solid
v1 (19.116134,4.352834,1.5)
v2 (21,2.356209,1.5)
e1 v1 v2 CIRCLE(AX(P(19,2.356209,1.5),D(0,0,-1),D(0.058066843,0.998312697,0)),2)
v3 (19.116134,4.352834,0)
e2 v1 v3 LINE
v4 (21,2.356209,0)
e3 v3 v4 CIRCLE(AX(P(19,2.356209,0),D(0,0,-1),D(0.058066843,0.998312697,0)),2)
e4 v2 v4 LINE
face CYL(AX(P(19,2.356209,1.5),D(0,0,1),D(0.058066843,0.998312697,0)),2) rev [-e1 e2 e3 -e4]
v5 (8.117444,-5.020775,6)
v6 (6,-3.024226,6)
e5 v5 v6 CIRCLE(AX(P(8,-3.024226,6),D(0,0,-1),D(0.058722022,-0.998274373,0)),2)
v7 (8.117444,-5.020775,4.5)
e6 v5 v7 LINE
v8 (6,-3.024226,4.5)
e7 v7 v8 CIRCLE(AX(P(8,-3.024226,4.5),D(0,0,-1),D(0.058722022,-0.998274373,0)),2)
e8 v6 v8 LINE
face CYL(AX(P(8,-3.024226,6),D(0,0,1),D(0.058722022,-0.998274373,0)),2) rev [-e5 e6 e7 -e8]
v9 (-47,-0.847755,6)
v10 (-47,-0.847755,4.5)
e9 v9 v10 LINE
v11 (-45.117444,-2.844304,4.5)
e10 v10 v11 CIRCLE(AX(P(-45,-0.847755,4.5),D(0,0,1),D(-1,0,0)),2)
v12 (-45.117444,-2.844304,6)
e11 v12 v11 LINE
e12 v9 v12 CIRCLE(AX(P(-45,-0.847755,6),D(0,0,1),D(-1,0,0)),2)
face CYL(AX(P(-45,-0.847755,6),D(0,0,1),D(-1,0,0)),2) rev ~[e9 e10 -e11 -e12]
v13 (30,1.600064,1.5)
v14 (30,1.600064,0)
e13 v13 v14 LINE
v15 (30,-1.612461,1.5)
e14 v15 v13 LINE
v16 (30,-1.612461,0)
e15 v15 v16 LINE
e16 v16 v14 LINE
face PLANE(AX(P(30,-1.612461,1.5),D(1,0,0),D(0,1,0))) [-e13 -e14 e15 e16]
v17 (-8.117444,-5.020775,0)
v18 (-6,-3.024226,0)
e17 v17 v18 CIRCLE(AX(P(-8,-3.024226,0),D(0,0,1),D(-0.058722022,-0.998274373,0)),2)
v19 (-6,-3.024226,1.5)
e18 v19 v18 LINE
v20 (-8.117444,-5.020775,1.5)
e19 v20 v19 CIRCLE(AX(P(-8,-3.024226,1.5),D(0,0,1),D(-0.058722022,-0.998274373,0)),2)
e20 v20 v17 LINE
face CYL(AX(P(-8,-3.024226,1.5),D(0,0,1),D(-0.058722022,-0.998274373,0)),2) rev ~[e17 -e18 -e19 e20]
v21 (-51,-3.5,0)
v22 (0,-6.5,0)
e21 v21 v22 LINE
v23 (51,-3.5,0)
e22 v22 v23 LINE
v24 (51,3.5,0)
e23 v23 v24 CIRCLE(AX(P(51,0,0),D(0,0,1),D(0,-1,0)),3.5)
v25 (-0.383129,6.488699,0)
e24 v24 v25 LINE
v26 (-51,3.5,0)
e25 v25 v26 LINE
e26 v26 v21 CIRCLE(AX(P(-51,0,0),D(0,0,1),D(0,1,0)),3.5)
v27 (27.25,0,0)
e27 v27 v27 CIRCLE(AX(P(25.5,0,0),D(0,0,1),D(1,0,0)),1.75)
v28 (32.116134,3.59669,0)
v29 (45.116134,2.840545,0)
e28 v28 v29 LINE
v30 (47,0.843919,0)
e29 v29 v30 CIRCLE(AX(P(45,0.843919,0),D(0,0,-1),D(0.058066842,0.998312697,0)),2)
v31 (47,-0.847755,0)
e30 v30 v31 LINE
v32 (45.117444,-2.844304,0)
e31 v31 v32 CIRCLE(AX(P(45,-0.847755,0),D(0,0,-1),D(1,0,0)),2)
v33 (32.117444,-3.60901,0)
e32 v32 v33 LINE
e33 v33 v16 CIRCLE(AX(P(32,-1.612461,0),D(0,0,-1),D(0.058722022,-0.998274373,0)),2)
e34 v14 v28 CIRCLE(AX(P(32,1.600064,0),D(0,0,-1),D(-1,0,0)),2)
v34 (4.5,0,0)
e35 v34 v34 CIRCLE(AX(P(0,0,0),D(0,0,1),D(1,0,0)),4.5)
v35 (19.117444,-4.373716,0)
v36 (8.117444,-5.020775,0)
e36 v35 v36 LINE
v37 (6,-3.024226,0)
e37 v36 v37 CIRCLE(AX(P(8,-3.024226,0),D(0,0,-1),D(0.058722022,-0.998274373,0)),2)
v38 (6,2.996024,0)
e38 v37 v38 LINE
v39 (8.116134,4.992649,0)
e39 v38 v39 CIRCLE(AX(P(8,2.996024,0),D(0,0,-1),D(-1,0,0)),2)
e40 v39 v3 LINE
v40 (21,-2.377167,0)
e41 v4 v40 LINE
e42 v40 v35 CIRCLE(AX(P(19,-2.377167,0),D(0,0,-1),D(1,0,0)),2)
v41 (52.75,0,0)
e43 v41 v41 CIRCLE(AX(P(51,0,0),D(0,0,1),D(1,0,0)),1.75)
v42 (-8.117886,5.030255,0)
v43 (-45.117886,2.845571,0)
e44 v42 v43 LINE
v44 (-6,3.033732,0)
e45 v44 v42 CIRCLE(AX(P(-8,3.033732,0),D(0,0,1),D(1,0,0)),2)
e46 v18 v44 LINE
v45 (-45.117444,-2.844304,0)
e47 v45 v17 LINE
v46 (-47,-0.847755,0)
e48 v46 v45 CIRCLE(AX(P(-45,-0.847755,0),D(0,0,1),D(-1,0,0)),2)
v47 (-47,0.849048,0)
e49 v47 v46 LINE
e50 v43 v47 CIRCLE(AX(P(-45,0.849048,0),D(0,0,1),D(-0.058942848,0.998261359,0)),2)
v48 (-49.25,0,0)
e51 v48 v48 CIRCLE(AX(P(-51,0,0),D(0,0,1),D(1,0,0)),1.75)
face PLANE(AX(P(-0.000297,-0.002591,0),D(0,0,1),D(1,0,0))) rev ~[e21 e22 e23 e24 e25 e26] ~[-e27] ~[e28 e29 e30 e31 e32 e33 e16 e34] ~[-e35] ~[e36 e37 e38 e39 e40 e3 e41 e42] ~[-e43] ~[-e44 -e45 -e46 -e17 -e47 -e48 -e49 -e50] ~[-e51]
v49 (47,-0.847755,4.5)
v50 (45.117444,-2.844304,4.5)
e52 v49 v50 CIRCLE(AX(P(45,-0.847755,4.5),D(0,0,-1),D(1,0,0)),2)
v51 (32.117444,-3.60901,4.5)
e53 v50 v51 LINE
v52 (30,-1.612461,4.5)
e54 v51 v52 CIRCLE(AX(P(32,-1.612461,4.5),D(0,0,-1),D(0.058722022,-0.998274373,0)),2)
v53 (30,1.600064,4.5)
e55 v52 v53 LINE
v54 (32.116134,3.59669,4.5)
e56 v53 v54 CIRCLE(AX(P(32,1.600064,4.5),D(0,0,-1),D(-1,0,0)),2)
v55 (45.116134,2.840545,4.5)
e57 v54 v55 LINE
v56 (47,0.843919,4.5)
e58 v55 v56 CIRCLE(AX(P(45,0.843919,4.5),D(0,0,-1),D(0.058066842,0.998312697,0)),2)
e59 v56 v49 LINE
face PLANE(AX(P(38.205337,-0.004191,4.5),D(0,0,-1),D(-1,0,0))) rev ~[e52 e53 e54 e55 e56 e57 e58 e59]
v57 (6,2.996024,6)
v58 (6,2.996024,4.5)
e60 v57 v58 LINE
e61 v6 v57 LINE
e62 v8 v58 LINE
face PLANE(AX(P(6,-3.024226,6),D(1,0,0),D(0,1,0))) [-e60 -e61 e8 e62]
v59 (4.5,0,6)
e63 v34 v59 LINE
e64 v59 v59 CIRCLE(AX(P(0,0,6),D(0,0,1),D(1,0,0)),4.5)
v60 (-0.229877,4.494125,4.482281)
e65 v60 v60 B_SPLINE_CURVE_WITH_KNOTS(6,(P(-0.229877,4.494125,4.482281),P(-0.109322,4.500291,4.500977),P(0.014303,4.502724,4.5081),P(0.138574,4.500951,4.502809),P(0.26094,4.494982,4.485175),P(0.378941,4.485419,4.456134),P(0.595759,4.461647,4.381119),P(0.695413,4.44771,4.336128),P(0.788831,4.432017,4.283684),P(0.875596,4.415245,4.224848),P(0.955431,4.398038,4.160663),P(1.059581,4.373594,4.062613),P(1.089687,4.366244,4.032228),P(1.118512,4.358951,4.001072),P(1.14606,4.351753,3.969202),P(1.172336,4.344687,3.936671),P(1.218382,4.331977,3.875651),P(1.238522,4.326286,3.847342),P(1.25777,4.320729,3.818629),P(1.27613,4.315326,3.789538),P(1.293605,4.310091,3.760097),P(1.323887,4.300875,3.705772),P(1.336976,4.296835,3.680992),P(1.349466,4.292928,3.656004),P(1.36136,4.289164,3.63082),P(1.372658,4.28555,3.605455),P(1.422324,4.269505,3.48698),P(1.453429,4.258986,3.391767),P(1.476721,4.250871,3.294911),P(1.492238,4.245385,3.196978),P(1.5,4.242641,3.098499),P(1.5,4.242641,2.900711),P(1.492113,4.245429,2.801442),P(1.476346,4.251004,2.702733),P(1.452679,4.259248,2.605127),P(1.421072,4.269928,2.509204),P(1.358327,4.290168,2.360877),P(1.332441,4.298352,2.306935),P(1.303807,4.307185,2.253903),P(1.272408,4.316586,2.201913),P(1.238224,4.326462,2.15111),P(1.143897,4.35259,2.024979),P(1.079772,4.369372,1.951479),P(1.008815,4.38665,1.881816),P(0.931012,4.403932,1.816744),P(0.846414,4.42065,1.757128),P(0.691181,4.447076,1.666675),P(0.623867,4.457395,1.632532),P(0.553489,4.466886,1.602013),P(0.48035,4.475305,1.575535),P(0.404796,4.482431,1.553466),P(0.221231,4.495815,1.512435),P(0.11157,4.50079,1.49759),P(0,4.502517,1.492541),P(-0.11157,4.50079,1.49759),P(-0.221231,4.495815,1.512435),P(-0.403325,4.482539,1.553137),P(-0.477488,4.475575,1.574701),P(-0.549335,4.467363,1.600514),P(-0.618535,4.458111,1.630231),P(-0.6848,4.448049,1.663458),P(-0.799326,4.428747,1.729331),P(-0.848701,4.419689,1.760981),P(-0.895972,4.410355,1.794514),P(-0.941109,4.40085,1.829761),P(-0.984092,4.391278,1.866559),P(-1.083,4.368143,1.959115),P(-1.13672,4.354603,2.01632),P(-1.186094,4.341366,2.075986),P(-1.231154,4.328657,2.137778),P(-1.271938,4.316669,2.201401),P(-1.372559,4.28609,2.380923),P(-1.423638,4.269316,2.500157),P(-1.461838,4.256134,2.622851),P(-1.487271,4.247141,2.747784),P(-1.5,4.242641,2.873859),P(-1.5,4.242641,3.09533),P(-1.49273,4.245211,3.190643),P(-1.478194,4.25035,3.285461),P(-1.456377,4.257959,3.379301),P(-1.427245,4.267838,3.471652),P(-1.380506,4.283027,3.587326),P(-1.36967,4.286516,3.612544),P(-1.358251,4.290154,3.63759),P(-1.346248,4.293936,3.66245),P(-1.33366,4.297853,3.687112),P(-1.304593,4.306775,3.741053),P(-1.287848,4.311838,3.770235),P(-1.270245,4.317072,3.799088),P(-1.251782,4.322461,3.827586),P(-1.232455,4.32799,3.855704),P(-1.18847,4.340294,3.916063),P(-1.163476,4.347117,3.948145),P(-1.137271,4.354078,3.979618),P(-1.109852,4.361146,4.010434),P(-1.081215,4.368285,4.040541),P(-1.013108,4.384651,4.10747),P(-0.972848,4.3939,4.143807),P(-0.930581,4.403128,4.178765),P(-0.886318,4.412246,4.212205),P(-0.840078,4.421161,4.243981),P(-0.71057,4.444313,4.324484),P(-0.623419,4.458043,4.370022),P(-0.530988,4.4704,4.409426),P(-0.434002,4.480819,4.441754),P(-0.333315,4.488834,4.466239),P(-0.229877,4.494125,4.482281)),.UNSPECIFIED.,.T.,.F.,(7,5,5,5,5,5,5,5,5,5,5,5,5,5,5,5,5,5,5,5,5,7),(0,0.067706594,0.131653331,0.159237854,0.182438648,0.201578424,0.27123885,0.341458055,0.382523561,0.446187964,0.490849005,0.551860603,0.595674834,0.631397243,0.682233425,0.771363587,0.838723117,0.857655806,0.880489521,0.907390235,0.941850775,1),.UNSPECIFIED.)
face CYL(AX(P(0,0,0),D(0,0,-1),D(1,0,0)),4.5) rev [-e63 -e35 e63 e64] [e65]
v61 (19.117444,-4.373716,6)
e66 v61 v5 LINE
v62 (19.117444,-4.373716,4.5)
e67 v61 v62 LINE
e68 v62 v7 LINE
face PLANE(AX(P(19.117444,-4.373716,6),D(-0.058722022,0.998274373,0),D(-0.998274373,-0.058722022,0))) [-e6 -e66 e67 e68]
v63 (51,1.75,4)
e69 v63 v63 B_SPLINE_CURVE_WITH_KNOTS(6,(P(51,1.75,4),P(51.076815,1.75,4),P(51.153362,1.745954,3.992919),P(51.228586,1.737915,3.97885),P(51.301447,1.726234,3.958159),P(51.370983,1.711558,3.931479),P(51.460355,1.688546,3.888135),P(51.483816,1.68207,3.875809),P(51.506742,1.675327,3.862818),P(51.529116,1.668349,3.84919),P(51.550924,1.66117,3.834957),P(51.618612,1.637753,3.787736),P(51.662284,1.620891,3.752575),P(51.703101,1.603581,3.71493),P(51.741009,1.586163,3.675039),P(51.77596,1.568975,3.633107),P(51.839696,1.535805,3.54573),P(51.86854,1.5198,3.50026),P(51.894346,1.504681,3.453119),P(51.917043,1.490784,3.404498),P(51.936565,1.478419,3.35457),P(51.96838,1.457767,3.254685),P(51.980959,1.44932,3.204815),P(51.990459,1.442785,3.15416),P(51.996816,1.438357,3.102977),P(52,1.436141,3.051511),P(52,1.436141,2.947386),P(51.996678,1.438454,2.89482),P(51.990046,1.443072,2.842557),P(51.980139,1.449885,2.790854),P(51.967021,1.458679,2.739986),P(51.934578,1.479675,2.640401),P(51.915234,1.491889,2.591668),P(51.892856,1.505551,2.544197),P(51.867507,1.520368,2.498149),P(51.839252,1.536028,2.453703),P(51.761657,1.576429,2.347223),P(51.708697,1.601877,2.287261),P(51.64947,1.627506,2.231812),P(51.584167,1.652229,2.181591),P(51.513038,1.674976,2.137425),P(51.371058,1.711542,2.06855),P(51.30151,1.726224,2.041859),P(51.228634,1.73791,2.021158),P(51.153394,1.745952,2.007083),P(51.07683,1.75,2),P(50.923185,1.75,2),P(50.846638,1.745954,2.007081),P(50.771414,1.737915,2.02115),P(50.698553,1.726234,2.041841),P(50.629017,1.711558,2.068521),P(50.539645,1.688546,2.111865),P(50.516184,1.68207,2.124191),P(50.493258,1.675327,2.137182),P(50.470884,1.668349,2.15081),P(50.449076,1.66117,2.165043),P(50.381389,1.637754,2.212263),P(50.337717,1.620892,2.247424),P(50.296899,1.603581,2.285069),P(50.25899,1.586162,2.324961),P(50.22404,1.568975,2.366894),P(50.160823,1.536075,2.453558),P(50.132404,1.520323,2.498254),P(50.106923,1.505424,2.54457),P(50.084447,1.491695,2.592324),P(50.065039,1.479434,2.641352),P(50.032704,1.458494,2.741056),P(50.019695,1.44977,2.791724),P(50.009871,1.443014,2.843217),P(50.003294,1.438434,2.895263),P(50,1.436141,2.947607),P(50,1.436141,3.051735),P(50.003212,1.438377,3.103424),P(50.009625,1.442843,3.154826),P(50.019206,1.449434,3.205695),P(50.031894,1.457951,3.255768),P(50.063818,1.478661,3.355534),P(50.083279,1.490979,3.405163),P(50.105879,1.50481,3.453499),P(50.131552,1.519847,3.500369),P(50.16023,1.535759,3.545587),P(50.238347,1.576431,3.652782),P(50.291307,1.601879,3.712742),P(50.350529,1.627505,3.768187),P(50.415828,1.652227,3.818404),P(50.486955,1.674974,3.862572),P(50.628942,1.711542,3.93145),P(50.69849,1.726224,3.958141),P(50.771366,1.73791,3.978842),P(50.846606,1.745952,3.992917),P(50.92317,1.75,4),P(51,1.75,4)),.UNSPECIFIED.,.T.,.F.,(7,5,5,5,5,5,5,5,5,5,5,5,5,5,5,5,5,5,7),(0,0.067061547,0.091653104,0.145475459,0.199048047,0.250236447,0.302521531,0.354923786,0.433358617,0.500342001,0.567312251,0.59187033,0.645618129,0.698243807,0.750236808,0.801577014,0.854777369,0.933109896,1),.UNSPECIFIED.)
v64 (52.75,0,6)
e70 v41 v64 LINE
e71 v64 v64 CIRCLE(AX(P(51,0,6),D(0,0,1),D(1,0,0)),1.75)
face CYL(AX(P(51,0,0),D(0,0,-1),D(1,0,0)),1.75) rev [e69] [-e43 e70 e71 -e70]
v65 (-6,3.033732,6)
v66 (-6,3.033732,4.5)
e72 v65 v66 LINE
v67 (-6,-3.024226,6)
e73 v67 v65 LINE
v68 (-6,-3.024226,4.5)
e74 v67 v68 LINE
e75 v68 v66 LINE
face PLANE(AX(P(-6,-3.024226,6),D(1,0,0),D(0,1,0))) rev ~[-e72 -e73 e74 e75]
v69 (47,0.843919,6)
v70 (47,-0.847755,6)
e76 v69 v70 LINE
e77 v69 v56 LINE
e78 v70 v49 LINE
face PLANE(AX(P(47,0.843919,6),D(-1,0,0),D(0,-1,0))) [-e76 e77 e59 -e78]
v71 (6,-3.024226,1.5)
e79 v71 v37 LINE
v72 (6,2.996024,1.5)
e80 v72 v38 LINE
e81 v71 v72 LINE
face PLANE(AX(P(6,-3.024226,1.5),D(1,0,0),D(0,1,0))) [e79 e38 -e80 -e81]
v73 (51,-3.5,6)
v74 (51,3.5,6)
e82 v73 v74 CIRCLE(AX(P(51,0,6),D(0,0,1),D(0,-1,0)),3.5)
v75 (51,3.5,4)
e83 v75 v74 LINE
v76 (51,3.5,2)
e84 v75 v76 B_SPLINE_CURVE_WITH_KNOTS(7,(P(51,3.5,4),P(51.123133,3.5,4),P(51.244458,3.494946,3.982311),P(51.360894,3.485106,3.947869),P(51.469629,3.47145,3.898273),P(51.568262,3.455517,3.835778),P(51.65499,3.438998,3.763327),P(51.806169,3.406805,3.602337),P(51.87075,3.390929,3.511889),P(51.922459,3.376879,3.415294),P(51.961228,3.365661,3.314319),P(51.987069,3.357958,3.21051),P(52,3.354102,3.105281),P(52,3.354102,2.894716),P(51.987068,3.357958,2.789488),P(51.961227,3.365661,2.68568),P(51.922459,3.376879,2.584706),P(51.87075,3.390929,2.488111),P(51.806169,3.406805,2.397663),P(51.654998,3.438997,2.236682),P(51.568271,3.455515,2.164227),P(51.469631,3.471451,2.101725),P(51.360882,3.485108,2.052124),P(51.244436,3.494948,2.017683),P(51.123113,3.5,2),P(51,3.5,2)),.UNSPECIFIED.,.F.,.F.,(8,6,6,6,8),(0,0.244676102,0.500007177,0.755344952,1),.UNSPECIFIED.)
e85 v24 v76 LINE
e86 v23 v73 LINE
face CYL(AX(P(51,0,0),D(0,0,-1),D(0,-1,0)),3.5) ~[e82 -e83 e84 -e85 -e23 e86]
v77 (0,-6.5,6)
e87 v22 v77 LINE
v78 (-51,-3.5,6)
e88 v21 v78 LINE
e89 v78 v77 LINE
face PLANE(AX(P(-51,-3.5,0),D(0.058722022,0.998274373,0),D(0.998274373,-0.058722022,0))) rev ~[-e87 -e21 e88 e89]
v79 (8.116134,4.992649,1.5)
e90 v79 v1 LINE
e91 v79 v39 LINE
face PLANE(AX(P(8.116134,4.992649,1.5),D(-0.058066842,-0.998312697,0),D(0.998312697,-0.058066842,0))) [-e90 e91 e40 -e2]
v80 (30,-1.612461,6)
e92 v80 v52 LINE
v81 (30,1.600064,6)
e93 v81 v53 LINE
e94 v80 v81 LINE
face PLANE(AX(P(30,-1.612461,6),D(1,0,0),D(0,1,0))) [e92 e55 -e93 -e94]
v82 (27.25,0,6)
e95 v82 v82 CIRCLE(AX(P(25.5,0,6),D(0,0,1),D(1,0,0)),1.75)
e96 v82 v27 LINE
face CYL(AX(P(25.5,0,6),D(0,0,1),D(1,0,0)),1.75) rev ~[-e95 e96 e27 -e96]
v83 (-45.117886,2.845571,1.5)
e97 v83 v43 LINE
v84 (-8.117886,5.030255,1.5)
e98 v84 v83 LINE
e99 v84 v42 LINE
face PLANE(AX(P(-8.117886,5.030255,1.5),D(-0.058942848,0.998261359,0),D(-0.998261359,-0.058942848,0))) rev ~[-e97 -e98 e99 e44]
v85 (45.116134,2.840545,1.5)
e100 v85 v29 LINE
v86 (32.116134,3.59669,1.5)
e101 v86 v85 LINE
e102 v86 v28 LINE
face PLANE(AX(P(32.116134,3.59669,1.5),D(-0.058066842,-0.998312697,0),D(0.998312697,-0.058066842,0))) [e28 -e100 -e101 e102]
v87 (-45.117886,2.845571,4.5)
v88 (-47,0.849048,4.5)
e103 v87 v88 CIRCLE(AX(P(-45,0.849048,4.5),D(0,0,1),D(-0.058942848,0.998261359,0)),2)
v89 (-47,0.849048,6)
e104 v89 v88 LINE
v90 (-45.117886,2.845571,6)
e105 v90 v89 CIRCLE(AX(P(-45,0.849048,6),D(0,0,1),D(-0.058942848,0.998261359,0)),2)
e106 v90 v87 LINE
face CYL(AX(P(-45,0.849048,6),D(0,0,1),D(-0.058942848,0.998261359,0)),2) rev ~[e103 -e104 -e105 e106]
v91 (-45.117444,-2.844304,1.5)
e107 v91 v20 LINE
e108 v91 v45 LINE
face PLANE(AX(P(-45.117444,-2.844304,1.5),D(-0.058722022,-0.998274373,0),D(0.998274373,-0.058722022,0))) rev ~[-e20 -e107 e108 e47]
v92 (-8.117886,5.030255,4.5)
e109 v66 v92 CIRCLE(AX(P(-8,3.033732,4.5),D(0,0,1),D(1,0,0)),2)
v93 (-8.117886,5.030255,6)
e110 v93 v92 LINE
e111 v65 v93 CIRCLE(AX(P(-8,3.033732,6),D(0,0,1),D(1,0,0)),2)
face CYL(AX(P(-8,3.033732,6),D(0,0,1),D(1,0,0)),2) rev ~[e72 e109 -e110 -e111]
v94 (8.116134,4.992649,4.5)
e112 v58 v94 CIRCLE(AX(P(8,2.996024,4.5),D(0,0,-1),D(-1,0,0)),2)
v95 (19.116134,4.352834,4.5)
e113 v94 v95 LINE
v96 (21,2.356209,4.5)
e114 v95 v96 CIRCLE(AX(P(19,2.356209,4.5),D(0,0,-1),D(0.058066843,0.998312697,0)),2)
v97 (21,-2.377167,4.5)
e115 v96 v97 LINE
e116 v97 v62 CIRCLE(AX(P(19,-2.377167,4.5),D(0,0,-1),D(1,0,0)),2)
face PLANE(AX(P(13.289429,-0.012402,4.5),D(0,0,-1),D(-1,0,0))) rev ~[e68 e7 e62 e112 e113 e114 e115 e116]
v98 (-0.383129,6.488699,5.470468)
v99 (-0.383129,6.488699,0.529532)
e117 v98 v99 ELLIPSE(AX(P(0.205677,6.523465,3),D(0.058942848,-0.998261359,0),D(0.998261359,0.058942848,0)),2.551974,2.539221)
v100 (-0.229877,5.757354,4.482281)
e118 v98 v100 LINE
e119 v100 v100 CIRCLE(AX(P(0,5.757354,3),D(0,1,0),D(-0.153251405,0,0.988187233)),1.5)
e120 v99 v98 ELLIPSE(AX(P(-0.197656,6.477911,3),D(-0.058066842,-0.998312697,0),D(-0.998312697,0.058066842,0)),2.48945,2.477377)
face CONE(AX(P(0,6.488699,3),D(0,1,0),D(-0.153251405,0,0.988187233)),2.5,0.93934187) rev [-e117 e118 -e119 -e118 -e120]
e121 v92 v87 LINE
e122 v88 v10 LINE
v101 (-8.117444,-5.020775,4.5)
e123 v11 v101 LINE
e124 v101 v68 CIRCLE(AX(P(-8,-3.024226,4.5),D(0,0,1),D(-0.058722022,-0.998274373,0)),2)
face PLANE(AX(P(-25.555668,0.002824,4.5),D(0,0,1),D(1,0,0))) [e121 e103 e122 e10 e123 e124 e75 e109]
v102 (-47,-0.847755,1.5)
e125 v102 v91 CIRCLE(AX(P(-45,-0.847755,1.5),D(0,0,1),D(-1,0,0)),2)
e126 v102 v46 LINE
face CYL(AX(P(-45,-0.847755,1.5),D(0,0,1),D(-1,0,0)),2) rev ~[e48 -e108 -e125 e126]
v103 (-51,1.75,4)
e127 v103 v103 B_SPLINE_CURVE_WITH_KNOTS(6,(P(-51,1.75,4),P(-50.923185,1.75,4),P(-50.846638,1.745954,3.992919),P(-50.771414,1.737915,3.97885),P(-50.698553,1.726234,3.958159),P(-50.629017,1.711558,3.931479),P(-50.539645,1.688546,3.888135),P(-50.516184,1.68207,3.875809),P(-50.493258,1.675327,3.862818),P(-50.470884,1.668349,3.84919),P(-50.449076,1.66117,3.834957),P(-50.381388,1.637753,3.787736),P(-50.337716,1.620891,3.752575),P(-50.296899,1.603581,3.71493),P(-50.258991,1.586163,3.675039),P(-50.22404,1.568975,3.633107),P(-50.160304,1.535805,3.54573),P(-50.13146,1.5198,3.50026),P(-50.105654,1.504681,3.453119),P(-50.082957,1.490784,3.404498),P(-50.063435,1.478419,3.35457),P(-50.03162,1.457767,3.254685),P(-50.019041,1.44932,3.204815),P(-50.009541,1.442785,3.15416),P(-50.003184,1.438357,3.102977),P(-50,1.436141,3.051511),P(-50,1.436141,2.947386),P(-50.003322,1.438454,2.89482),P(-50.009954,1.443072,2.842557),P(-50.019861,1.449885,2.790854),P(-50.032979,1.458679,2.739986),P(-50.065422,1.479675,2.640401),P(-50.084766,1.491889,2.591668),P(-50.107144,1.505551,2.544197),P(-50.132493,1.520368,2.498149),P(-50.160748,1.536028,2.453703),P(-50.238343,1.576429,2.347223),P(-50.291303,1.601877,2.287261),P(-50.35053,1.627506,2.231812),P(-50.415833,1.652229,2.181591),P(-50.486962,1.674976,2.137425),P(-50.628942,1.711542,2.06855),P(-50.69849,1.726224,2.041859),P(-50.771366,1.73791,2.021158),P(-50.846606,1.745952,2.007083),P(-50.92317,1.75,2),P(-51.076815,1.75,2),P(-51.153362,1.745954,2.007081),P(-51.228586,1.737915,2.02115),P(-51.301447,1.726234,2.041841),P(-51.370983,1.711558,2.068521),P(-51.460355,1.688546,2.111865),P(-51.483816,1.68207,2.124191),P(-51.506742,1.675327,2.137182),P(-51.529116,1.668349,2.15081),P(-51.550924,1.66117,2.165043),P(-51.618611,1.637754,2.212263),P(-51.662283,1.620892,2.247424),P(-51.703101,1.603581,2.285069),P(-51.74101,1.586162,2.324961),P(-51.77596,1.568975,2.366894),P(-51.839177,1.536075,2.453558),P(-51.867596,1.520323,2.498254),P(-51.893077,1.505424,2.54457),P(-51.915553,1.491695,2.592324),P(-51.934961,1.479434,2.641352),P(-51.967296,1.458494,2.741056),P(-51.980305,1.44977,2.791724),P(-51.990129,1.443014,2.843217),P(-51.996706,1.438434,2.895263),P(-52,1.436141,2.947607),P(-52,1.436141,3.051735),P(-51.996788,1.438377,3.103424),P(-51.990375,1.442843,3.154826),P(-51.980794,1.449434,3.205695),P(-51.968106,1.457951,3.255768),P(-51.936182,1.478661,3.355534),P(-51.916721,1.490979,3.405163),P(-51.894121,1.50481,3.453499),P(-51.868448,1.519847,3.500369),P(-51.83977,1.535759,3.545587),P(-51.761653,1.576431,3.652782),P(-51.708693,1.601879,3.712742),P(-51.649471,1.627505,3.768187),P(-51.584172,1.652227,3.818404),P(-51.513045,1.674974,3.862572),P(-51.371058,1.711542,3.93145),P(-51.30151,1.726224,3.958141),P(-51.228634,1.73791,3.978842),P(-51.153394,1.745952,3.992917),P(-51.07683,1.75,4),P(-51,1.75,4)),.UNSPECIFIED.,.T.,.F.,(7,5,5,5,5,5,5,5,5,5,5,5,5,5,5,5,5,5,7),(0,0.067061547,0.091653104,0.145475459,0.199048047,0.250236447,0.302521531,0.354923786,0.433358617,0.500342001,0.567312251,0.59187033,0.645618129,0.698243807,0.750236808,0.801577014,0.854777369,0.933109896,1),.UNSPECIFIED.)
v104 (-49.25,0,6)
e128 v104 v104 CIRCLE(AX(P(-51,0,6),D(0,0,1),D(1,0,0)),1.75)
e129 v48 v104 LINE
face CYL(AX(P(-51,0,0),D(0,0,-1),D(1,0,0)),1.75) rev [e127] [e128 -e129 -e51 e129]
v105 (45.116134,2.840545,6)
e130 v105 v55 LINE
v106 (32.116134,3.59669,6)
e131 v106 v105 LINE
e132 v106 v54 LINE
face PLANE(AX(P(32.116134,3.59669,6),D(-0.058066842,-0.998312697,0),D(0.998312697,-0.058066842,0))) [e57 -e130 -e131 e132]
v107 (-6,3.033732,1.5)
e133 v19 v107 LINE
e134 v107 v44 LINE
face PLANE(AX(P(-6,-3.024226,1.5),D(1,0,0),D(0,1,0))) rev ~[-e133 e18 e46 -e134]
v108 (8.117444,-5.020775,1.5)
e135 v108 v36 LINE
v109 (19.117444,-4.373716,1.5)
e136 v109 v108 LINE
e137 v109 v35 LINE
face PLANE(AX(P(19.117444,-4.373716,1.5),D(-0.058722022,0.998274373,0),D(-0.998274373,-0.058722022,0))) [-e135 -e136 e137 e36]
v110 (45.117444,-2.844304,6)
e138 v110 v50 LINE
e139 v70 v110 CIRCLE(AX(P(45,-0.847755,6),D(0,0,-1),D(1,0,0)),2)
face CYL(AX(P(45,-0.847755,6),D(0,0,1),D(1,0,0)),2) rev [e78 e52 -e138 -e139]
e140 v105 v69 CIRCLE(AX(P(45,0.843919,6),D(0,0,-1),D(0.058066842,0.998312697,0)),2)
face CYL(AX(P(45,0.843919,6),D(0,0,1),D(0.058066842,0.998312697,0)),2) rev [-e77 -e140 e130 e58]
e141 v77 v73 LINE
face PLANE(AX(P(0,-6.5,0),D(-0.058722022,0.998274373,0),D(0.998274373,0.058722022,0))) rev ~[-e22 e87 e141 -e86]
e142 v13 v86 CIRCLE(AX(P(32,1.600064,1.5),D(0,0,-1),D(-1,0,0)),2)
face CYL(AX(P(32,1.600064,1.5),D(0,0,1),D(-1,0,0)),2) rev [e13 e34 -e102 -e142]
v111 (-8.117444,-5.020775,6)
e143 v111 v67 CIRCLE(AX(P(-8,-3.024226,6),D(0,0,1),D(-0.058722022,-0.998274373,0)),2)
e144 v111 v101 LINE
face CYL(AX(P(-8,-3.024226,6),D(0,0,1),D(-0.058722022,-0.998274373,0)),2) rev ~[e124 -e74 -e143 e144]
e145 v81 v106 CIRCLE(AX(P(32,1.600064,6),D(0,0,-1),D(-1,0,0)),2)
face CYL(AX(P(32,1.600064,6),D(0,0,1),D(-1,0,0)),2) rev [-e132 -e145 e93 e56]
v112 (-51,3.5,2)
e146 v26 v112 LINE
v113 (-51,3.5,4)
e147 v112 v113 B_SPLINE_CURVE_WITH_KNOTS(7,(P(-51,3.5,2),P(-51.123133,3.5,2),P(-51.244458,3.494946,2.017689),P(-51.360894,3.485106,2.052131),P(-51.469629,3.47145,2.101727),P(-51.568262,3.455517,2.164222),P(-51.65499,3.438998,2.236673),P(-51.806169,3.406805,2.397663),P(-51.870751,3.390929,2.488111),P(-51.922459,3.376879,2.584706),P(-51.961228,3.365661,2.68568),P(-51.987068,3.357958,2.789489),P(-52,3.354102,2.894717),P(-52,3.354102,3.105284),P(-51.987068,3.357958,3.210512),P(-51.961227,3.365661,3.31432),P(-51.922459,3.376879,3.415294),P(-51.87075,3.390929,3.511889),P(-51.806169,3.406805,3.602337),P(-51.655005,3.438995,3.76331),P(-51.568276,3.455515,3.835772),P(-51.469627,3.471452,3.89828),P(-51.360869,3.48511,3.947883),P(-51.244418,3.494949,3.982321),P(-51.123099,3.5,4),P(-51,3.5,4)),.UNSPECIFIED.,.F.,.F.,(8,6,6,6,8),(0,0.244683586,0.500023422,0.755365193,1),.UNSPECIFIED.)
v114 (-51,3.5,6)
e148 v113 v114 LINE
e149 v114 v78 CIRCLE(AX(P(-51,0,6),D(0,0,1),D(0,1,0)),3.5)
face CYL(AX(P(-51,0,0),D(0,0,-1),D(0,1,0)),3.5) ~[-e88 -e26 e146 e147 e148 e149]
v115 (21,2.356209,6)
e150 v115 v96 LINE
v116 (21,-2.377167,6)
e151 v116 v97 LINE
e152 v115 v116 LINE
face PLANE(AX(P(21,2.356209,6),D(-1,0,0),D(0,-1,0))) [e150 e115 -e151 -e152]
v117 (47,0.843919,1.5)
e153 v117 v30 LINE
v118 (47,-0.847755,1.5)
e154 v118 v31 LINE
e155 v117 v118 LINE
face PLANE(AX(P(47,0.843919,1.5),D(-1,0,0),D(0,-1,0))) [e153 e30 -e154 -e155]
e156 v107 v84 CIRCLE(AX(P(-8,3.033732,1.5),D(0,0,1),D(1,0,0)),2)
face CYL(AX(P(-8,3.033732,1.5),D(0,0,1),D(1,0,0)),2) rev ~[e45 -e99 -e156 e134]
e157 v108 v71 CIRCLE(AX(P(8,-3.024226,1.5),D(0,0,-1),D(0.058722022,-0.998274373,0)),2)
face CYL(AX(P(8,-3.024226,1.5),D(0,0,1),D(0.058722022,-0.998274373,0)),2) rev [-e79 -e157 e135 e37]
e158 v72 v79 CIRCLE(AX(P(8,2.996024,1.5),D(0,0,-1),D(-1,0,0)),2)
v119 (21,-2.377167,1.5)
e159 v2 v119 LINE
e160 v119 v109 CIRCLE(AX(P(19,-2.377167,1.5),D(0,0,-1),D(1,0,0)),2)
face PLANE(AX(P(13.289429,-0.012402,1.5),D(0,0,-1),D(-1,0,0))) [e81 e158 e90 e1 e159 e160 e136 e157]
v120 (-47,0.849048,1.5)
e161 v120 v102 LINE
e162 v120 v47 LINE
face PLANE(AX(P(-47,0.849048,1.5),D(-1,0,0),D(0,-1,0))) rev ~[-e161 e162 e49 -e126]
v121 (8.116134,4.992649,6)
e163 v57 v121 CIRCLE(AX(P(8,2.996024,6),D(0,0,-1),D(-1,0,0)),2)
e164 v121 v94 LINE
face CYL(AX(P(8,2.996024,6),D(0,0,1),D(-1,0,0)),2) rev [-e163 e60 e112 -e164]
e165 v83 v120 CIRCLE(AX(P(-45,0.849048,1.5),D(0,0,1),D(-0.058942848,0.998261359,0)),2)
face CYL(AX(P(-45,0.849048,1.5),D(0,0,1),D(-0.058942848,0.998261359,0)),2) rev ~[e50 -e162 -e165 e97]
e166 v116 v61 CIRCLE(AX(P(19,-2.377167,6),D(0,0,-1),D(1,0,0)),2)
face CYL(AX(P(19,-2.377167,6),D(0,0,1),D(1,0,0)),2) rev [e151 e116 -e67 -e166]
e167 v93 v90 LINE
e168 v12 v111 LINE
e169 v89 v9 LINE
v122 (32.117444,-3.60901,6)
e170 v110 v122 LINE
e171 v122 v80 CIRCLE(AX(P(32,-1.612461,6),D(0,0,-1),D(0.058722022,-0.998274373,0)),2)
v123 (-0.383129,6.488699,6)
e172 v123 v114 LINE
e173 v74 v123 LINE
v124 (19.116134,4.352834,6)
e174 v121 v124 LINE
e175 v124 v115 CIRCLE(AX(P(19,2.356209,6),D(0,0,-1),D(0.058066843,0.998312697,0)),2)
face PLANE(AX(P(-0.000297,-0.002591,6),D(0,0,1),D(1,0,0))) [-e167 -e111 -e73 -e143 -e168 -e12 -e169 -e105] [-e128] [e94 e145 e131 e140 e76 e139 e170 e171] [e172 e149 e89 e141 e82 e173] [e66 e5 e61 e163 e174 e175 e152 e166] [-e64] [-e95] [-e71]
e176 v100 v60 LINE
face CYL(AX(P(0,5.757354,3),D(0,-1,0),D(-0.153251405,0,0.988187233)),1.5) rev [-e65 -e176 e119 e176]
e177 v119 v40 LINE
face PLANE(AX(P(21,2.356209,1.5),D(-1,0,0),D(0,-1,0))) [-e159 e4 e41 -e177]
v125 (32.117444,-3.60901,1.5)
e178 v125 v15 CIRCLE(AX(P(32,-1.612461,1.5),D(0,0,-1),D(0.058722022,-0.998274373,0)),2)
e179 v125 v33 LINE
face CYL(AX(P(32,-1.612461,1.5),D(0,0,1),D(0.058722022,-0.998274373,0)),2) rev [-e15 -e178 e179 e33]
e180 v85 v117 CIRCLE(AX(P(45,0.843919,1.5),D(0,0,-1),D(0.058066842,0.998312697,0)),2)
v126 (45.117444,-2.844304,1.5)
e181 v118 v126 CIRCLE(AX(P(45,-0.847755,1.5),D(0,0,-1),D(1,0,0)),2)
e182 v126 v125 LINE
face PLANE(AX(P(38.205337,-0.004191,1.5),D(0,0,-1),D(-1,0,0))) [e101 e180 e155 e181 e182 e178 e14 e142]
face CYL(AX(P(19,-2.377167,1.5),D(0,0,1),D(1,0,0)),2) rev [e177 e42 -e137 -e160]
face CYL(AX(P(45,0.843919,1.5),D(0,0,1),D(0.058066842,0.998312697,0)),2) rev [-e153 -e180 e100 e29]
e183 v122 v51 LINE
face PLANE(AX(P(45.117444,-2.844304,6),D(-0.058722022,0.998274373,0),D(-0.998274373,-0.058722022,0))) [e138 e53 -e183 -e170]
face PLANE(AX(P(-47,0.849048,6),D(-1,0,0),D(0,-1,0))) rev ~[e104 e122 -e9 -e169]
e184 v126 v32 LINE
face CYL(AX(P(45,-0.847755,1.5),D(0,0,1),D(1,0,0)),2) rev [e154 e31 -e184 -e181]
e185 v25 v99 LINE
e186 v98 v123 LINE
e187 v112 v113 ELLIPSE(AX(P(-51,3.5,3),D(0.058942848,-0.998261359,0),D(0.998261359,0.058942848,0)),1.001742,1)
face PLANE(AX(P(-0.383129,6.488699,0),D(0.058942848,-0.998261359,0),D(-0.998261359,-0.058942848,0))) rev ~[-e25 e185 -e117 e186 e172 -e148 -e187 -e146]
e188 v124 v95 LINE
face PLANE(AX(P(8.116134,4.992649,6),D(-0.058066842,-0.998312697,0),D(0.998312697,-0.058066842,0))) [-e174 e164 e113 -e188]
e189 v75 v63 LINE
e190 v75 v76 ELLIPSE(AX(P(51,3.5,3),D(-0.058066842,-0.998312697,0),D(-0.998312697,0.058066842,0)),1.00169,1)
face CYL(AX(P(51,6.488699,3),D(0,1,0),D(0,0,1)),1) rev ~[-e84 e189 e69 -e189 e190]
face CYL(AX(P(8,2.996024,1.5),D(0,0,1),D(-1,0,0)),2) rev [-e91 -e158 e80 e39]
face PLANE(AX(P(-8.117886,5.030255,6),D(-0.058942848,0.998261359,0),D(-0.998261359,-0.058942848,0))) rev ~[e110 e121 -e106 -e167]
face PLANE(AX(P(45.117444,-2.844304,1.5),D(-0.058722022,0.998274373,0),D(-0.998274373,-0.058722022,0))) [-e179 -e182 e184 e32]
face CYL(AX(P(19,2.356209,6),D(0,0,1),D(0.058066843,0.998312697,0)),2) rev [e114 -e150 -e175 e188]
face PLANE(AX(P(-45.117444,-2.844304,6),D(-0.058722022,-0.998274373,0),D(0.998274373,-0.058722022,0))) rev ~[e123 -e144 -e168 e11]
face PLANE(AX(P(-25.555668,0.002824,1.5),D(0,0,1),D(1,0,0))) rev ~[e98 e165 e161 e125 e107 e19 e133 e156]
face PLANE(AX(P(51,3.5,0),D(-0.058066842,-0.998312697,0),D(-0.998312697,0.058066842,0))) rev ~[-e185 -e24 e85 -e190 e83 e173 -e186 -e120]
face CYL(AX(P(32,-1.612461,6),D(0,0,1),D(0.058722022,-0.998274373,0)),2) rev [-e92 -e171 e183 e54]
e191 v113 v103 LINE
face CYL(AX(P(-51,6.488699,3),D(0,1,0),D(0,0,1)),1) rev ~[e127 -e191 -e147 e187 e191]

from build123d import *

# Parameters (mm, degrees)
SKETCH1_R           = 4.5
SKETCH1_R_2         = 1.75
BOSS_EXTRUDE1_DEPTH = 6
CUT_EXTRUDE1_DEPTH  = 1.5
LPATTERN1_COUNT     = 2
LPATTERN1_PITCH     = 4.5
CUT_EXTRUDE2_DEPTH  = 1.5
LPATTERN2_COUNT     = 2
LPATTERN2_PITCH     = 4.5
CUT_EXTRUDE3_DEPTH  = 1.5
LPATTERN3_COUNT     = 2
LPATTERN3_PITCH     = 4.5
SKETCH5_R           = 1.75
CUT_EXTRUDE4_DEPTH  = 11.5
SKETCH8_R           = 1
CUT_EXTRUDE5_DEPTH  = 7


with BuildPart() as part:
    # Sketch1 → Boss-Extrude1 (new body)
    with BuildSketch(Plane.XY):
        with BuildLine():
            Line((0, -6.5), (51, -3.5))
            ThreePointArc((51, -3.5), (54.5, 0), (51, 3.5))
            Line((51, 3.5), (-0.383128511, 6.488698833))
            Line((-0.383128511, 6.488698833), (-51, 3.5))
            ThreePointArc((-51, 3.5), (-54.5, 0), (-51, -3.5))
            Line((-51, -3.5), (0, -6.5))
        make_face()
        Circle(SKETCH1_R, mode=Mode.SUBTRACT)
        with Locations((-51, 0)):
            Circle(SKETCH1_R_2, mode=Mode.SUBTRACT)
        with Locations((51, 0)):
            Circle(SKETCH1_R_2, mode=Mode.SUBTRACT)
    extrude(amount=BOSS_EXTRUDE1_DEPTH)

    # Sketch2 → Cut-Extrude1 (cut)
    with BuildSketch(Plane.XY.offset(6)):
        with BuildLine():
            Line((-8.117885696, 5.030254505), (-45.117885696, 2.845570751))
            ThreePointArc((-45.117885696, 2.845570751), (-46.455295742, 2.220949744), (-47, 0.849048033))
            Line((-47, 0.849048033), (-47, -0.847755347))
            ThreePointArc((-47, -0.847755347), (-46.455143994, -2.219818012), (-45.117444044, -2.844304094))
            Line((-45.117444044, -2.844304094), (-8.117444044, -5.020774682))
            ThreePointArc((-8.117444044, -5.020774682), (-6.627937335, -4.47936993), (-6, -3.024225935))
            Line((-6, -3.024225935), (-6, 3.033731787))
            ThreePointArc((-6, 3.033731787), (-6.628098289, 4.489027529), (-8.117885696, 5.030254505))
        make_face()
    cut_extrude1 = extrude(amount=-CUT_EXTRUDE1_DEPTH, mode=Mode.SUBTRACT)

    # LPattern1: Cut-Extrude1 ×2
    with Locations(*[(0, 0, -i * LPATTERN1_PITCH) for i in range(1, LPATTERN1_COUNT)]):
        add(cut_extrude1, mode=Mode.SUBTRACT)

    # Sketch3 → Cut-Extrude2 (cut)
    with BuildSketch(Plane.XY.offset(6)):
        with BuildLine():
            Line((8.116133684, 4.992649231), (19.116133684, 4.352834411))
            ThreePointArc((19.116133684, 4.352834411), (20.454693673, 3.728749112), (21, 2.356209016))
            Line((21, 2.356209016), (21, -2.377167112))
            ThreePointArc((21, -2.377167112), (20.455143994, -3.749229777), (19.117444044, -4.373715858))
            Line((19.117444044, -4.373715858), (8.117444044, -5.020774682))
            ThreePointArc((8.117444044, -5.020774682), (6.627937335, -4.47936993), (6, -3.024225935))
            Line((6, -3.024225935), (6, 2.996023836))
            ThreePointArc((6, 2.996023836), (6.627459904, 4.45071751), (8.116133684, 4.992649231))
        make_face()
    cut_extrude2 = extrude(amount=-CUT_EXTRUDE2_DEPTH, mode=Mode.SUBTRACT)

    # LPattern2: Cut-Extrude2 ×2
    with Locations(*[(0, 0, -i * LPATTERN2_PITCH) for i in range(1, LPATTERN2_COUNT)]):
        add(cut_extrude2, mode=Mode.SUBTRACT)

    # Sketch4 → Cut-Extrude3 (cut)
    with BuildSketch(Plane.XY.offset(6)):
        with BuildLine():
            Line((47, 0.843919439), (47, -0.847755347))
            ThreePointArc((47, -0.847755347), (46.455143994, -2.219818012), (45.117444044, -2.844304094))
            Line((45.117444044, -2.844304094), (32.117444044, -3.609009976))
            ThreePointArc((32.117444044, -3.609009976), (30.627937335, -3.067605224), (30, -1.61246123))
            Line((30, -1.61246123), (30, 1.600064227))
            ThreePointArc((30, 1.600064227), (30.627459904, 3.054757901), (32.116133684, 3.596689622))
            Line((32.116133684, 3.596689622), (45.116133684, 2.840544834))
            ThreePointArc((45.116133684, 2.840544834), (46.454693673, 2.216459536), (47, 0.843919439))
        make_face()
    cut_extrude3 = extrude(amount=-CUT_EXTRUDE3_DEPTH, mode=Mode.SUBTRACT)

    # LPattern3: Cut-Extrude3 ×2
    with Locations(*[(0, 0, -i * LPATTERN3_PITCH) for i in range(1, LPATTERN3_COUNT)]):
        add(cut_extrude3, mode=Mode.SUBTRACT)

    # Sketch5 → Cut-Extrude4 (cut)
    with BuildSketch(Plane.XY.offset(6)):
        with Locations((25.5, 0)):
            Circle(SKETCH5_R)
    extrude(amount=-CUT_EXTRUDE4_DEPTH, mode=Mode.SUBTRACT)

    # Sketch7 → Cut-Revolve1 (revolve, cut)
    with BuildSketch(Plane(origin=(0, 0, 0), x_dir=(0, 0, -1), z_dir=(1, 0, 0)), mode=Mode.PRIVATE) as cut_revolve1_sk:
        Polygon((-3, 6.488698833), (-5.5, 6.488698833), (-4.5, 5.75735408), (-4.5, 2.301697652), (-3, 2.301697652), (-3, 5.75735408), align=None)
    revolve(cut_revolve1_sk.sketch.rotate(Axis((0, 2.301697652, 3), (0, 1, 0)), 351.184602487), axis=Axis((0, 2.301697652, 3), (0, 1, 0)), mode=Mode.SUBTRACT)

    # Sketch8 → Cut-Extrude5 (cut)
    with BuildSketch(Plane(origin=(0, 6.488698833, 0), x_dir=(1, 0, 0), z_dir=(0, 1, 0))):
        with Locations(Location((-51, -3, 0), (0, 0, 270))):
            Circle(SKETCH8_R)
        with Locations(Location((51, -3, 0), (0, 0, 270))):
            Circle(SKETCH8_R)
    extrude(amount=-CUT_EXTRUDE5_DEPTH, mode=Mode.SUBTRACT)


solid = part.part
